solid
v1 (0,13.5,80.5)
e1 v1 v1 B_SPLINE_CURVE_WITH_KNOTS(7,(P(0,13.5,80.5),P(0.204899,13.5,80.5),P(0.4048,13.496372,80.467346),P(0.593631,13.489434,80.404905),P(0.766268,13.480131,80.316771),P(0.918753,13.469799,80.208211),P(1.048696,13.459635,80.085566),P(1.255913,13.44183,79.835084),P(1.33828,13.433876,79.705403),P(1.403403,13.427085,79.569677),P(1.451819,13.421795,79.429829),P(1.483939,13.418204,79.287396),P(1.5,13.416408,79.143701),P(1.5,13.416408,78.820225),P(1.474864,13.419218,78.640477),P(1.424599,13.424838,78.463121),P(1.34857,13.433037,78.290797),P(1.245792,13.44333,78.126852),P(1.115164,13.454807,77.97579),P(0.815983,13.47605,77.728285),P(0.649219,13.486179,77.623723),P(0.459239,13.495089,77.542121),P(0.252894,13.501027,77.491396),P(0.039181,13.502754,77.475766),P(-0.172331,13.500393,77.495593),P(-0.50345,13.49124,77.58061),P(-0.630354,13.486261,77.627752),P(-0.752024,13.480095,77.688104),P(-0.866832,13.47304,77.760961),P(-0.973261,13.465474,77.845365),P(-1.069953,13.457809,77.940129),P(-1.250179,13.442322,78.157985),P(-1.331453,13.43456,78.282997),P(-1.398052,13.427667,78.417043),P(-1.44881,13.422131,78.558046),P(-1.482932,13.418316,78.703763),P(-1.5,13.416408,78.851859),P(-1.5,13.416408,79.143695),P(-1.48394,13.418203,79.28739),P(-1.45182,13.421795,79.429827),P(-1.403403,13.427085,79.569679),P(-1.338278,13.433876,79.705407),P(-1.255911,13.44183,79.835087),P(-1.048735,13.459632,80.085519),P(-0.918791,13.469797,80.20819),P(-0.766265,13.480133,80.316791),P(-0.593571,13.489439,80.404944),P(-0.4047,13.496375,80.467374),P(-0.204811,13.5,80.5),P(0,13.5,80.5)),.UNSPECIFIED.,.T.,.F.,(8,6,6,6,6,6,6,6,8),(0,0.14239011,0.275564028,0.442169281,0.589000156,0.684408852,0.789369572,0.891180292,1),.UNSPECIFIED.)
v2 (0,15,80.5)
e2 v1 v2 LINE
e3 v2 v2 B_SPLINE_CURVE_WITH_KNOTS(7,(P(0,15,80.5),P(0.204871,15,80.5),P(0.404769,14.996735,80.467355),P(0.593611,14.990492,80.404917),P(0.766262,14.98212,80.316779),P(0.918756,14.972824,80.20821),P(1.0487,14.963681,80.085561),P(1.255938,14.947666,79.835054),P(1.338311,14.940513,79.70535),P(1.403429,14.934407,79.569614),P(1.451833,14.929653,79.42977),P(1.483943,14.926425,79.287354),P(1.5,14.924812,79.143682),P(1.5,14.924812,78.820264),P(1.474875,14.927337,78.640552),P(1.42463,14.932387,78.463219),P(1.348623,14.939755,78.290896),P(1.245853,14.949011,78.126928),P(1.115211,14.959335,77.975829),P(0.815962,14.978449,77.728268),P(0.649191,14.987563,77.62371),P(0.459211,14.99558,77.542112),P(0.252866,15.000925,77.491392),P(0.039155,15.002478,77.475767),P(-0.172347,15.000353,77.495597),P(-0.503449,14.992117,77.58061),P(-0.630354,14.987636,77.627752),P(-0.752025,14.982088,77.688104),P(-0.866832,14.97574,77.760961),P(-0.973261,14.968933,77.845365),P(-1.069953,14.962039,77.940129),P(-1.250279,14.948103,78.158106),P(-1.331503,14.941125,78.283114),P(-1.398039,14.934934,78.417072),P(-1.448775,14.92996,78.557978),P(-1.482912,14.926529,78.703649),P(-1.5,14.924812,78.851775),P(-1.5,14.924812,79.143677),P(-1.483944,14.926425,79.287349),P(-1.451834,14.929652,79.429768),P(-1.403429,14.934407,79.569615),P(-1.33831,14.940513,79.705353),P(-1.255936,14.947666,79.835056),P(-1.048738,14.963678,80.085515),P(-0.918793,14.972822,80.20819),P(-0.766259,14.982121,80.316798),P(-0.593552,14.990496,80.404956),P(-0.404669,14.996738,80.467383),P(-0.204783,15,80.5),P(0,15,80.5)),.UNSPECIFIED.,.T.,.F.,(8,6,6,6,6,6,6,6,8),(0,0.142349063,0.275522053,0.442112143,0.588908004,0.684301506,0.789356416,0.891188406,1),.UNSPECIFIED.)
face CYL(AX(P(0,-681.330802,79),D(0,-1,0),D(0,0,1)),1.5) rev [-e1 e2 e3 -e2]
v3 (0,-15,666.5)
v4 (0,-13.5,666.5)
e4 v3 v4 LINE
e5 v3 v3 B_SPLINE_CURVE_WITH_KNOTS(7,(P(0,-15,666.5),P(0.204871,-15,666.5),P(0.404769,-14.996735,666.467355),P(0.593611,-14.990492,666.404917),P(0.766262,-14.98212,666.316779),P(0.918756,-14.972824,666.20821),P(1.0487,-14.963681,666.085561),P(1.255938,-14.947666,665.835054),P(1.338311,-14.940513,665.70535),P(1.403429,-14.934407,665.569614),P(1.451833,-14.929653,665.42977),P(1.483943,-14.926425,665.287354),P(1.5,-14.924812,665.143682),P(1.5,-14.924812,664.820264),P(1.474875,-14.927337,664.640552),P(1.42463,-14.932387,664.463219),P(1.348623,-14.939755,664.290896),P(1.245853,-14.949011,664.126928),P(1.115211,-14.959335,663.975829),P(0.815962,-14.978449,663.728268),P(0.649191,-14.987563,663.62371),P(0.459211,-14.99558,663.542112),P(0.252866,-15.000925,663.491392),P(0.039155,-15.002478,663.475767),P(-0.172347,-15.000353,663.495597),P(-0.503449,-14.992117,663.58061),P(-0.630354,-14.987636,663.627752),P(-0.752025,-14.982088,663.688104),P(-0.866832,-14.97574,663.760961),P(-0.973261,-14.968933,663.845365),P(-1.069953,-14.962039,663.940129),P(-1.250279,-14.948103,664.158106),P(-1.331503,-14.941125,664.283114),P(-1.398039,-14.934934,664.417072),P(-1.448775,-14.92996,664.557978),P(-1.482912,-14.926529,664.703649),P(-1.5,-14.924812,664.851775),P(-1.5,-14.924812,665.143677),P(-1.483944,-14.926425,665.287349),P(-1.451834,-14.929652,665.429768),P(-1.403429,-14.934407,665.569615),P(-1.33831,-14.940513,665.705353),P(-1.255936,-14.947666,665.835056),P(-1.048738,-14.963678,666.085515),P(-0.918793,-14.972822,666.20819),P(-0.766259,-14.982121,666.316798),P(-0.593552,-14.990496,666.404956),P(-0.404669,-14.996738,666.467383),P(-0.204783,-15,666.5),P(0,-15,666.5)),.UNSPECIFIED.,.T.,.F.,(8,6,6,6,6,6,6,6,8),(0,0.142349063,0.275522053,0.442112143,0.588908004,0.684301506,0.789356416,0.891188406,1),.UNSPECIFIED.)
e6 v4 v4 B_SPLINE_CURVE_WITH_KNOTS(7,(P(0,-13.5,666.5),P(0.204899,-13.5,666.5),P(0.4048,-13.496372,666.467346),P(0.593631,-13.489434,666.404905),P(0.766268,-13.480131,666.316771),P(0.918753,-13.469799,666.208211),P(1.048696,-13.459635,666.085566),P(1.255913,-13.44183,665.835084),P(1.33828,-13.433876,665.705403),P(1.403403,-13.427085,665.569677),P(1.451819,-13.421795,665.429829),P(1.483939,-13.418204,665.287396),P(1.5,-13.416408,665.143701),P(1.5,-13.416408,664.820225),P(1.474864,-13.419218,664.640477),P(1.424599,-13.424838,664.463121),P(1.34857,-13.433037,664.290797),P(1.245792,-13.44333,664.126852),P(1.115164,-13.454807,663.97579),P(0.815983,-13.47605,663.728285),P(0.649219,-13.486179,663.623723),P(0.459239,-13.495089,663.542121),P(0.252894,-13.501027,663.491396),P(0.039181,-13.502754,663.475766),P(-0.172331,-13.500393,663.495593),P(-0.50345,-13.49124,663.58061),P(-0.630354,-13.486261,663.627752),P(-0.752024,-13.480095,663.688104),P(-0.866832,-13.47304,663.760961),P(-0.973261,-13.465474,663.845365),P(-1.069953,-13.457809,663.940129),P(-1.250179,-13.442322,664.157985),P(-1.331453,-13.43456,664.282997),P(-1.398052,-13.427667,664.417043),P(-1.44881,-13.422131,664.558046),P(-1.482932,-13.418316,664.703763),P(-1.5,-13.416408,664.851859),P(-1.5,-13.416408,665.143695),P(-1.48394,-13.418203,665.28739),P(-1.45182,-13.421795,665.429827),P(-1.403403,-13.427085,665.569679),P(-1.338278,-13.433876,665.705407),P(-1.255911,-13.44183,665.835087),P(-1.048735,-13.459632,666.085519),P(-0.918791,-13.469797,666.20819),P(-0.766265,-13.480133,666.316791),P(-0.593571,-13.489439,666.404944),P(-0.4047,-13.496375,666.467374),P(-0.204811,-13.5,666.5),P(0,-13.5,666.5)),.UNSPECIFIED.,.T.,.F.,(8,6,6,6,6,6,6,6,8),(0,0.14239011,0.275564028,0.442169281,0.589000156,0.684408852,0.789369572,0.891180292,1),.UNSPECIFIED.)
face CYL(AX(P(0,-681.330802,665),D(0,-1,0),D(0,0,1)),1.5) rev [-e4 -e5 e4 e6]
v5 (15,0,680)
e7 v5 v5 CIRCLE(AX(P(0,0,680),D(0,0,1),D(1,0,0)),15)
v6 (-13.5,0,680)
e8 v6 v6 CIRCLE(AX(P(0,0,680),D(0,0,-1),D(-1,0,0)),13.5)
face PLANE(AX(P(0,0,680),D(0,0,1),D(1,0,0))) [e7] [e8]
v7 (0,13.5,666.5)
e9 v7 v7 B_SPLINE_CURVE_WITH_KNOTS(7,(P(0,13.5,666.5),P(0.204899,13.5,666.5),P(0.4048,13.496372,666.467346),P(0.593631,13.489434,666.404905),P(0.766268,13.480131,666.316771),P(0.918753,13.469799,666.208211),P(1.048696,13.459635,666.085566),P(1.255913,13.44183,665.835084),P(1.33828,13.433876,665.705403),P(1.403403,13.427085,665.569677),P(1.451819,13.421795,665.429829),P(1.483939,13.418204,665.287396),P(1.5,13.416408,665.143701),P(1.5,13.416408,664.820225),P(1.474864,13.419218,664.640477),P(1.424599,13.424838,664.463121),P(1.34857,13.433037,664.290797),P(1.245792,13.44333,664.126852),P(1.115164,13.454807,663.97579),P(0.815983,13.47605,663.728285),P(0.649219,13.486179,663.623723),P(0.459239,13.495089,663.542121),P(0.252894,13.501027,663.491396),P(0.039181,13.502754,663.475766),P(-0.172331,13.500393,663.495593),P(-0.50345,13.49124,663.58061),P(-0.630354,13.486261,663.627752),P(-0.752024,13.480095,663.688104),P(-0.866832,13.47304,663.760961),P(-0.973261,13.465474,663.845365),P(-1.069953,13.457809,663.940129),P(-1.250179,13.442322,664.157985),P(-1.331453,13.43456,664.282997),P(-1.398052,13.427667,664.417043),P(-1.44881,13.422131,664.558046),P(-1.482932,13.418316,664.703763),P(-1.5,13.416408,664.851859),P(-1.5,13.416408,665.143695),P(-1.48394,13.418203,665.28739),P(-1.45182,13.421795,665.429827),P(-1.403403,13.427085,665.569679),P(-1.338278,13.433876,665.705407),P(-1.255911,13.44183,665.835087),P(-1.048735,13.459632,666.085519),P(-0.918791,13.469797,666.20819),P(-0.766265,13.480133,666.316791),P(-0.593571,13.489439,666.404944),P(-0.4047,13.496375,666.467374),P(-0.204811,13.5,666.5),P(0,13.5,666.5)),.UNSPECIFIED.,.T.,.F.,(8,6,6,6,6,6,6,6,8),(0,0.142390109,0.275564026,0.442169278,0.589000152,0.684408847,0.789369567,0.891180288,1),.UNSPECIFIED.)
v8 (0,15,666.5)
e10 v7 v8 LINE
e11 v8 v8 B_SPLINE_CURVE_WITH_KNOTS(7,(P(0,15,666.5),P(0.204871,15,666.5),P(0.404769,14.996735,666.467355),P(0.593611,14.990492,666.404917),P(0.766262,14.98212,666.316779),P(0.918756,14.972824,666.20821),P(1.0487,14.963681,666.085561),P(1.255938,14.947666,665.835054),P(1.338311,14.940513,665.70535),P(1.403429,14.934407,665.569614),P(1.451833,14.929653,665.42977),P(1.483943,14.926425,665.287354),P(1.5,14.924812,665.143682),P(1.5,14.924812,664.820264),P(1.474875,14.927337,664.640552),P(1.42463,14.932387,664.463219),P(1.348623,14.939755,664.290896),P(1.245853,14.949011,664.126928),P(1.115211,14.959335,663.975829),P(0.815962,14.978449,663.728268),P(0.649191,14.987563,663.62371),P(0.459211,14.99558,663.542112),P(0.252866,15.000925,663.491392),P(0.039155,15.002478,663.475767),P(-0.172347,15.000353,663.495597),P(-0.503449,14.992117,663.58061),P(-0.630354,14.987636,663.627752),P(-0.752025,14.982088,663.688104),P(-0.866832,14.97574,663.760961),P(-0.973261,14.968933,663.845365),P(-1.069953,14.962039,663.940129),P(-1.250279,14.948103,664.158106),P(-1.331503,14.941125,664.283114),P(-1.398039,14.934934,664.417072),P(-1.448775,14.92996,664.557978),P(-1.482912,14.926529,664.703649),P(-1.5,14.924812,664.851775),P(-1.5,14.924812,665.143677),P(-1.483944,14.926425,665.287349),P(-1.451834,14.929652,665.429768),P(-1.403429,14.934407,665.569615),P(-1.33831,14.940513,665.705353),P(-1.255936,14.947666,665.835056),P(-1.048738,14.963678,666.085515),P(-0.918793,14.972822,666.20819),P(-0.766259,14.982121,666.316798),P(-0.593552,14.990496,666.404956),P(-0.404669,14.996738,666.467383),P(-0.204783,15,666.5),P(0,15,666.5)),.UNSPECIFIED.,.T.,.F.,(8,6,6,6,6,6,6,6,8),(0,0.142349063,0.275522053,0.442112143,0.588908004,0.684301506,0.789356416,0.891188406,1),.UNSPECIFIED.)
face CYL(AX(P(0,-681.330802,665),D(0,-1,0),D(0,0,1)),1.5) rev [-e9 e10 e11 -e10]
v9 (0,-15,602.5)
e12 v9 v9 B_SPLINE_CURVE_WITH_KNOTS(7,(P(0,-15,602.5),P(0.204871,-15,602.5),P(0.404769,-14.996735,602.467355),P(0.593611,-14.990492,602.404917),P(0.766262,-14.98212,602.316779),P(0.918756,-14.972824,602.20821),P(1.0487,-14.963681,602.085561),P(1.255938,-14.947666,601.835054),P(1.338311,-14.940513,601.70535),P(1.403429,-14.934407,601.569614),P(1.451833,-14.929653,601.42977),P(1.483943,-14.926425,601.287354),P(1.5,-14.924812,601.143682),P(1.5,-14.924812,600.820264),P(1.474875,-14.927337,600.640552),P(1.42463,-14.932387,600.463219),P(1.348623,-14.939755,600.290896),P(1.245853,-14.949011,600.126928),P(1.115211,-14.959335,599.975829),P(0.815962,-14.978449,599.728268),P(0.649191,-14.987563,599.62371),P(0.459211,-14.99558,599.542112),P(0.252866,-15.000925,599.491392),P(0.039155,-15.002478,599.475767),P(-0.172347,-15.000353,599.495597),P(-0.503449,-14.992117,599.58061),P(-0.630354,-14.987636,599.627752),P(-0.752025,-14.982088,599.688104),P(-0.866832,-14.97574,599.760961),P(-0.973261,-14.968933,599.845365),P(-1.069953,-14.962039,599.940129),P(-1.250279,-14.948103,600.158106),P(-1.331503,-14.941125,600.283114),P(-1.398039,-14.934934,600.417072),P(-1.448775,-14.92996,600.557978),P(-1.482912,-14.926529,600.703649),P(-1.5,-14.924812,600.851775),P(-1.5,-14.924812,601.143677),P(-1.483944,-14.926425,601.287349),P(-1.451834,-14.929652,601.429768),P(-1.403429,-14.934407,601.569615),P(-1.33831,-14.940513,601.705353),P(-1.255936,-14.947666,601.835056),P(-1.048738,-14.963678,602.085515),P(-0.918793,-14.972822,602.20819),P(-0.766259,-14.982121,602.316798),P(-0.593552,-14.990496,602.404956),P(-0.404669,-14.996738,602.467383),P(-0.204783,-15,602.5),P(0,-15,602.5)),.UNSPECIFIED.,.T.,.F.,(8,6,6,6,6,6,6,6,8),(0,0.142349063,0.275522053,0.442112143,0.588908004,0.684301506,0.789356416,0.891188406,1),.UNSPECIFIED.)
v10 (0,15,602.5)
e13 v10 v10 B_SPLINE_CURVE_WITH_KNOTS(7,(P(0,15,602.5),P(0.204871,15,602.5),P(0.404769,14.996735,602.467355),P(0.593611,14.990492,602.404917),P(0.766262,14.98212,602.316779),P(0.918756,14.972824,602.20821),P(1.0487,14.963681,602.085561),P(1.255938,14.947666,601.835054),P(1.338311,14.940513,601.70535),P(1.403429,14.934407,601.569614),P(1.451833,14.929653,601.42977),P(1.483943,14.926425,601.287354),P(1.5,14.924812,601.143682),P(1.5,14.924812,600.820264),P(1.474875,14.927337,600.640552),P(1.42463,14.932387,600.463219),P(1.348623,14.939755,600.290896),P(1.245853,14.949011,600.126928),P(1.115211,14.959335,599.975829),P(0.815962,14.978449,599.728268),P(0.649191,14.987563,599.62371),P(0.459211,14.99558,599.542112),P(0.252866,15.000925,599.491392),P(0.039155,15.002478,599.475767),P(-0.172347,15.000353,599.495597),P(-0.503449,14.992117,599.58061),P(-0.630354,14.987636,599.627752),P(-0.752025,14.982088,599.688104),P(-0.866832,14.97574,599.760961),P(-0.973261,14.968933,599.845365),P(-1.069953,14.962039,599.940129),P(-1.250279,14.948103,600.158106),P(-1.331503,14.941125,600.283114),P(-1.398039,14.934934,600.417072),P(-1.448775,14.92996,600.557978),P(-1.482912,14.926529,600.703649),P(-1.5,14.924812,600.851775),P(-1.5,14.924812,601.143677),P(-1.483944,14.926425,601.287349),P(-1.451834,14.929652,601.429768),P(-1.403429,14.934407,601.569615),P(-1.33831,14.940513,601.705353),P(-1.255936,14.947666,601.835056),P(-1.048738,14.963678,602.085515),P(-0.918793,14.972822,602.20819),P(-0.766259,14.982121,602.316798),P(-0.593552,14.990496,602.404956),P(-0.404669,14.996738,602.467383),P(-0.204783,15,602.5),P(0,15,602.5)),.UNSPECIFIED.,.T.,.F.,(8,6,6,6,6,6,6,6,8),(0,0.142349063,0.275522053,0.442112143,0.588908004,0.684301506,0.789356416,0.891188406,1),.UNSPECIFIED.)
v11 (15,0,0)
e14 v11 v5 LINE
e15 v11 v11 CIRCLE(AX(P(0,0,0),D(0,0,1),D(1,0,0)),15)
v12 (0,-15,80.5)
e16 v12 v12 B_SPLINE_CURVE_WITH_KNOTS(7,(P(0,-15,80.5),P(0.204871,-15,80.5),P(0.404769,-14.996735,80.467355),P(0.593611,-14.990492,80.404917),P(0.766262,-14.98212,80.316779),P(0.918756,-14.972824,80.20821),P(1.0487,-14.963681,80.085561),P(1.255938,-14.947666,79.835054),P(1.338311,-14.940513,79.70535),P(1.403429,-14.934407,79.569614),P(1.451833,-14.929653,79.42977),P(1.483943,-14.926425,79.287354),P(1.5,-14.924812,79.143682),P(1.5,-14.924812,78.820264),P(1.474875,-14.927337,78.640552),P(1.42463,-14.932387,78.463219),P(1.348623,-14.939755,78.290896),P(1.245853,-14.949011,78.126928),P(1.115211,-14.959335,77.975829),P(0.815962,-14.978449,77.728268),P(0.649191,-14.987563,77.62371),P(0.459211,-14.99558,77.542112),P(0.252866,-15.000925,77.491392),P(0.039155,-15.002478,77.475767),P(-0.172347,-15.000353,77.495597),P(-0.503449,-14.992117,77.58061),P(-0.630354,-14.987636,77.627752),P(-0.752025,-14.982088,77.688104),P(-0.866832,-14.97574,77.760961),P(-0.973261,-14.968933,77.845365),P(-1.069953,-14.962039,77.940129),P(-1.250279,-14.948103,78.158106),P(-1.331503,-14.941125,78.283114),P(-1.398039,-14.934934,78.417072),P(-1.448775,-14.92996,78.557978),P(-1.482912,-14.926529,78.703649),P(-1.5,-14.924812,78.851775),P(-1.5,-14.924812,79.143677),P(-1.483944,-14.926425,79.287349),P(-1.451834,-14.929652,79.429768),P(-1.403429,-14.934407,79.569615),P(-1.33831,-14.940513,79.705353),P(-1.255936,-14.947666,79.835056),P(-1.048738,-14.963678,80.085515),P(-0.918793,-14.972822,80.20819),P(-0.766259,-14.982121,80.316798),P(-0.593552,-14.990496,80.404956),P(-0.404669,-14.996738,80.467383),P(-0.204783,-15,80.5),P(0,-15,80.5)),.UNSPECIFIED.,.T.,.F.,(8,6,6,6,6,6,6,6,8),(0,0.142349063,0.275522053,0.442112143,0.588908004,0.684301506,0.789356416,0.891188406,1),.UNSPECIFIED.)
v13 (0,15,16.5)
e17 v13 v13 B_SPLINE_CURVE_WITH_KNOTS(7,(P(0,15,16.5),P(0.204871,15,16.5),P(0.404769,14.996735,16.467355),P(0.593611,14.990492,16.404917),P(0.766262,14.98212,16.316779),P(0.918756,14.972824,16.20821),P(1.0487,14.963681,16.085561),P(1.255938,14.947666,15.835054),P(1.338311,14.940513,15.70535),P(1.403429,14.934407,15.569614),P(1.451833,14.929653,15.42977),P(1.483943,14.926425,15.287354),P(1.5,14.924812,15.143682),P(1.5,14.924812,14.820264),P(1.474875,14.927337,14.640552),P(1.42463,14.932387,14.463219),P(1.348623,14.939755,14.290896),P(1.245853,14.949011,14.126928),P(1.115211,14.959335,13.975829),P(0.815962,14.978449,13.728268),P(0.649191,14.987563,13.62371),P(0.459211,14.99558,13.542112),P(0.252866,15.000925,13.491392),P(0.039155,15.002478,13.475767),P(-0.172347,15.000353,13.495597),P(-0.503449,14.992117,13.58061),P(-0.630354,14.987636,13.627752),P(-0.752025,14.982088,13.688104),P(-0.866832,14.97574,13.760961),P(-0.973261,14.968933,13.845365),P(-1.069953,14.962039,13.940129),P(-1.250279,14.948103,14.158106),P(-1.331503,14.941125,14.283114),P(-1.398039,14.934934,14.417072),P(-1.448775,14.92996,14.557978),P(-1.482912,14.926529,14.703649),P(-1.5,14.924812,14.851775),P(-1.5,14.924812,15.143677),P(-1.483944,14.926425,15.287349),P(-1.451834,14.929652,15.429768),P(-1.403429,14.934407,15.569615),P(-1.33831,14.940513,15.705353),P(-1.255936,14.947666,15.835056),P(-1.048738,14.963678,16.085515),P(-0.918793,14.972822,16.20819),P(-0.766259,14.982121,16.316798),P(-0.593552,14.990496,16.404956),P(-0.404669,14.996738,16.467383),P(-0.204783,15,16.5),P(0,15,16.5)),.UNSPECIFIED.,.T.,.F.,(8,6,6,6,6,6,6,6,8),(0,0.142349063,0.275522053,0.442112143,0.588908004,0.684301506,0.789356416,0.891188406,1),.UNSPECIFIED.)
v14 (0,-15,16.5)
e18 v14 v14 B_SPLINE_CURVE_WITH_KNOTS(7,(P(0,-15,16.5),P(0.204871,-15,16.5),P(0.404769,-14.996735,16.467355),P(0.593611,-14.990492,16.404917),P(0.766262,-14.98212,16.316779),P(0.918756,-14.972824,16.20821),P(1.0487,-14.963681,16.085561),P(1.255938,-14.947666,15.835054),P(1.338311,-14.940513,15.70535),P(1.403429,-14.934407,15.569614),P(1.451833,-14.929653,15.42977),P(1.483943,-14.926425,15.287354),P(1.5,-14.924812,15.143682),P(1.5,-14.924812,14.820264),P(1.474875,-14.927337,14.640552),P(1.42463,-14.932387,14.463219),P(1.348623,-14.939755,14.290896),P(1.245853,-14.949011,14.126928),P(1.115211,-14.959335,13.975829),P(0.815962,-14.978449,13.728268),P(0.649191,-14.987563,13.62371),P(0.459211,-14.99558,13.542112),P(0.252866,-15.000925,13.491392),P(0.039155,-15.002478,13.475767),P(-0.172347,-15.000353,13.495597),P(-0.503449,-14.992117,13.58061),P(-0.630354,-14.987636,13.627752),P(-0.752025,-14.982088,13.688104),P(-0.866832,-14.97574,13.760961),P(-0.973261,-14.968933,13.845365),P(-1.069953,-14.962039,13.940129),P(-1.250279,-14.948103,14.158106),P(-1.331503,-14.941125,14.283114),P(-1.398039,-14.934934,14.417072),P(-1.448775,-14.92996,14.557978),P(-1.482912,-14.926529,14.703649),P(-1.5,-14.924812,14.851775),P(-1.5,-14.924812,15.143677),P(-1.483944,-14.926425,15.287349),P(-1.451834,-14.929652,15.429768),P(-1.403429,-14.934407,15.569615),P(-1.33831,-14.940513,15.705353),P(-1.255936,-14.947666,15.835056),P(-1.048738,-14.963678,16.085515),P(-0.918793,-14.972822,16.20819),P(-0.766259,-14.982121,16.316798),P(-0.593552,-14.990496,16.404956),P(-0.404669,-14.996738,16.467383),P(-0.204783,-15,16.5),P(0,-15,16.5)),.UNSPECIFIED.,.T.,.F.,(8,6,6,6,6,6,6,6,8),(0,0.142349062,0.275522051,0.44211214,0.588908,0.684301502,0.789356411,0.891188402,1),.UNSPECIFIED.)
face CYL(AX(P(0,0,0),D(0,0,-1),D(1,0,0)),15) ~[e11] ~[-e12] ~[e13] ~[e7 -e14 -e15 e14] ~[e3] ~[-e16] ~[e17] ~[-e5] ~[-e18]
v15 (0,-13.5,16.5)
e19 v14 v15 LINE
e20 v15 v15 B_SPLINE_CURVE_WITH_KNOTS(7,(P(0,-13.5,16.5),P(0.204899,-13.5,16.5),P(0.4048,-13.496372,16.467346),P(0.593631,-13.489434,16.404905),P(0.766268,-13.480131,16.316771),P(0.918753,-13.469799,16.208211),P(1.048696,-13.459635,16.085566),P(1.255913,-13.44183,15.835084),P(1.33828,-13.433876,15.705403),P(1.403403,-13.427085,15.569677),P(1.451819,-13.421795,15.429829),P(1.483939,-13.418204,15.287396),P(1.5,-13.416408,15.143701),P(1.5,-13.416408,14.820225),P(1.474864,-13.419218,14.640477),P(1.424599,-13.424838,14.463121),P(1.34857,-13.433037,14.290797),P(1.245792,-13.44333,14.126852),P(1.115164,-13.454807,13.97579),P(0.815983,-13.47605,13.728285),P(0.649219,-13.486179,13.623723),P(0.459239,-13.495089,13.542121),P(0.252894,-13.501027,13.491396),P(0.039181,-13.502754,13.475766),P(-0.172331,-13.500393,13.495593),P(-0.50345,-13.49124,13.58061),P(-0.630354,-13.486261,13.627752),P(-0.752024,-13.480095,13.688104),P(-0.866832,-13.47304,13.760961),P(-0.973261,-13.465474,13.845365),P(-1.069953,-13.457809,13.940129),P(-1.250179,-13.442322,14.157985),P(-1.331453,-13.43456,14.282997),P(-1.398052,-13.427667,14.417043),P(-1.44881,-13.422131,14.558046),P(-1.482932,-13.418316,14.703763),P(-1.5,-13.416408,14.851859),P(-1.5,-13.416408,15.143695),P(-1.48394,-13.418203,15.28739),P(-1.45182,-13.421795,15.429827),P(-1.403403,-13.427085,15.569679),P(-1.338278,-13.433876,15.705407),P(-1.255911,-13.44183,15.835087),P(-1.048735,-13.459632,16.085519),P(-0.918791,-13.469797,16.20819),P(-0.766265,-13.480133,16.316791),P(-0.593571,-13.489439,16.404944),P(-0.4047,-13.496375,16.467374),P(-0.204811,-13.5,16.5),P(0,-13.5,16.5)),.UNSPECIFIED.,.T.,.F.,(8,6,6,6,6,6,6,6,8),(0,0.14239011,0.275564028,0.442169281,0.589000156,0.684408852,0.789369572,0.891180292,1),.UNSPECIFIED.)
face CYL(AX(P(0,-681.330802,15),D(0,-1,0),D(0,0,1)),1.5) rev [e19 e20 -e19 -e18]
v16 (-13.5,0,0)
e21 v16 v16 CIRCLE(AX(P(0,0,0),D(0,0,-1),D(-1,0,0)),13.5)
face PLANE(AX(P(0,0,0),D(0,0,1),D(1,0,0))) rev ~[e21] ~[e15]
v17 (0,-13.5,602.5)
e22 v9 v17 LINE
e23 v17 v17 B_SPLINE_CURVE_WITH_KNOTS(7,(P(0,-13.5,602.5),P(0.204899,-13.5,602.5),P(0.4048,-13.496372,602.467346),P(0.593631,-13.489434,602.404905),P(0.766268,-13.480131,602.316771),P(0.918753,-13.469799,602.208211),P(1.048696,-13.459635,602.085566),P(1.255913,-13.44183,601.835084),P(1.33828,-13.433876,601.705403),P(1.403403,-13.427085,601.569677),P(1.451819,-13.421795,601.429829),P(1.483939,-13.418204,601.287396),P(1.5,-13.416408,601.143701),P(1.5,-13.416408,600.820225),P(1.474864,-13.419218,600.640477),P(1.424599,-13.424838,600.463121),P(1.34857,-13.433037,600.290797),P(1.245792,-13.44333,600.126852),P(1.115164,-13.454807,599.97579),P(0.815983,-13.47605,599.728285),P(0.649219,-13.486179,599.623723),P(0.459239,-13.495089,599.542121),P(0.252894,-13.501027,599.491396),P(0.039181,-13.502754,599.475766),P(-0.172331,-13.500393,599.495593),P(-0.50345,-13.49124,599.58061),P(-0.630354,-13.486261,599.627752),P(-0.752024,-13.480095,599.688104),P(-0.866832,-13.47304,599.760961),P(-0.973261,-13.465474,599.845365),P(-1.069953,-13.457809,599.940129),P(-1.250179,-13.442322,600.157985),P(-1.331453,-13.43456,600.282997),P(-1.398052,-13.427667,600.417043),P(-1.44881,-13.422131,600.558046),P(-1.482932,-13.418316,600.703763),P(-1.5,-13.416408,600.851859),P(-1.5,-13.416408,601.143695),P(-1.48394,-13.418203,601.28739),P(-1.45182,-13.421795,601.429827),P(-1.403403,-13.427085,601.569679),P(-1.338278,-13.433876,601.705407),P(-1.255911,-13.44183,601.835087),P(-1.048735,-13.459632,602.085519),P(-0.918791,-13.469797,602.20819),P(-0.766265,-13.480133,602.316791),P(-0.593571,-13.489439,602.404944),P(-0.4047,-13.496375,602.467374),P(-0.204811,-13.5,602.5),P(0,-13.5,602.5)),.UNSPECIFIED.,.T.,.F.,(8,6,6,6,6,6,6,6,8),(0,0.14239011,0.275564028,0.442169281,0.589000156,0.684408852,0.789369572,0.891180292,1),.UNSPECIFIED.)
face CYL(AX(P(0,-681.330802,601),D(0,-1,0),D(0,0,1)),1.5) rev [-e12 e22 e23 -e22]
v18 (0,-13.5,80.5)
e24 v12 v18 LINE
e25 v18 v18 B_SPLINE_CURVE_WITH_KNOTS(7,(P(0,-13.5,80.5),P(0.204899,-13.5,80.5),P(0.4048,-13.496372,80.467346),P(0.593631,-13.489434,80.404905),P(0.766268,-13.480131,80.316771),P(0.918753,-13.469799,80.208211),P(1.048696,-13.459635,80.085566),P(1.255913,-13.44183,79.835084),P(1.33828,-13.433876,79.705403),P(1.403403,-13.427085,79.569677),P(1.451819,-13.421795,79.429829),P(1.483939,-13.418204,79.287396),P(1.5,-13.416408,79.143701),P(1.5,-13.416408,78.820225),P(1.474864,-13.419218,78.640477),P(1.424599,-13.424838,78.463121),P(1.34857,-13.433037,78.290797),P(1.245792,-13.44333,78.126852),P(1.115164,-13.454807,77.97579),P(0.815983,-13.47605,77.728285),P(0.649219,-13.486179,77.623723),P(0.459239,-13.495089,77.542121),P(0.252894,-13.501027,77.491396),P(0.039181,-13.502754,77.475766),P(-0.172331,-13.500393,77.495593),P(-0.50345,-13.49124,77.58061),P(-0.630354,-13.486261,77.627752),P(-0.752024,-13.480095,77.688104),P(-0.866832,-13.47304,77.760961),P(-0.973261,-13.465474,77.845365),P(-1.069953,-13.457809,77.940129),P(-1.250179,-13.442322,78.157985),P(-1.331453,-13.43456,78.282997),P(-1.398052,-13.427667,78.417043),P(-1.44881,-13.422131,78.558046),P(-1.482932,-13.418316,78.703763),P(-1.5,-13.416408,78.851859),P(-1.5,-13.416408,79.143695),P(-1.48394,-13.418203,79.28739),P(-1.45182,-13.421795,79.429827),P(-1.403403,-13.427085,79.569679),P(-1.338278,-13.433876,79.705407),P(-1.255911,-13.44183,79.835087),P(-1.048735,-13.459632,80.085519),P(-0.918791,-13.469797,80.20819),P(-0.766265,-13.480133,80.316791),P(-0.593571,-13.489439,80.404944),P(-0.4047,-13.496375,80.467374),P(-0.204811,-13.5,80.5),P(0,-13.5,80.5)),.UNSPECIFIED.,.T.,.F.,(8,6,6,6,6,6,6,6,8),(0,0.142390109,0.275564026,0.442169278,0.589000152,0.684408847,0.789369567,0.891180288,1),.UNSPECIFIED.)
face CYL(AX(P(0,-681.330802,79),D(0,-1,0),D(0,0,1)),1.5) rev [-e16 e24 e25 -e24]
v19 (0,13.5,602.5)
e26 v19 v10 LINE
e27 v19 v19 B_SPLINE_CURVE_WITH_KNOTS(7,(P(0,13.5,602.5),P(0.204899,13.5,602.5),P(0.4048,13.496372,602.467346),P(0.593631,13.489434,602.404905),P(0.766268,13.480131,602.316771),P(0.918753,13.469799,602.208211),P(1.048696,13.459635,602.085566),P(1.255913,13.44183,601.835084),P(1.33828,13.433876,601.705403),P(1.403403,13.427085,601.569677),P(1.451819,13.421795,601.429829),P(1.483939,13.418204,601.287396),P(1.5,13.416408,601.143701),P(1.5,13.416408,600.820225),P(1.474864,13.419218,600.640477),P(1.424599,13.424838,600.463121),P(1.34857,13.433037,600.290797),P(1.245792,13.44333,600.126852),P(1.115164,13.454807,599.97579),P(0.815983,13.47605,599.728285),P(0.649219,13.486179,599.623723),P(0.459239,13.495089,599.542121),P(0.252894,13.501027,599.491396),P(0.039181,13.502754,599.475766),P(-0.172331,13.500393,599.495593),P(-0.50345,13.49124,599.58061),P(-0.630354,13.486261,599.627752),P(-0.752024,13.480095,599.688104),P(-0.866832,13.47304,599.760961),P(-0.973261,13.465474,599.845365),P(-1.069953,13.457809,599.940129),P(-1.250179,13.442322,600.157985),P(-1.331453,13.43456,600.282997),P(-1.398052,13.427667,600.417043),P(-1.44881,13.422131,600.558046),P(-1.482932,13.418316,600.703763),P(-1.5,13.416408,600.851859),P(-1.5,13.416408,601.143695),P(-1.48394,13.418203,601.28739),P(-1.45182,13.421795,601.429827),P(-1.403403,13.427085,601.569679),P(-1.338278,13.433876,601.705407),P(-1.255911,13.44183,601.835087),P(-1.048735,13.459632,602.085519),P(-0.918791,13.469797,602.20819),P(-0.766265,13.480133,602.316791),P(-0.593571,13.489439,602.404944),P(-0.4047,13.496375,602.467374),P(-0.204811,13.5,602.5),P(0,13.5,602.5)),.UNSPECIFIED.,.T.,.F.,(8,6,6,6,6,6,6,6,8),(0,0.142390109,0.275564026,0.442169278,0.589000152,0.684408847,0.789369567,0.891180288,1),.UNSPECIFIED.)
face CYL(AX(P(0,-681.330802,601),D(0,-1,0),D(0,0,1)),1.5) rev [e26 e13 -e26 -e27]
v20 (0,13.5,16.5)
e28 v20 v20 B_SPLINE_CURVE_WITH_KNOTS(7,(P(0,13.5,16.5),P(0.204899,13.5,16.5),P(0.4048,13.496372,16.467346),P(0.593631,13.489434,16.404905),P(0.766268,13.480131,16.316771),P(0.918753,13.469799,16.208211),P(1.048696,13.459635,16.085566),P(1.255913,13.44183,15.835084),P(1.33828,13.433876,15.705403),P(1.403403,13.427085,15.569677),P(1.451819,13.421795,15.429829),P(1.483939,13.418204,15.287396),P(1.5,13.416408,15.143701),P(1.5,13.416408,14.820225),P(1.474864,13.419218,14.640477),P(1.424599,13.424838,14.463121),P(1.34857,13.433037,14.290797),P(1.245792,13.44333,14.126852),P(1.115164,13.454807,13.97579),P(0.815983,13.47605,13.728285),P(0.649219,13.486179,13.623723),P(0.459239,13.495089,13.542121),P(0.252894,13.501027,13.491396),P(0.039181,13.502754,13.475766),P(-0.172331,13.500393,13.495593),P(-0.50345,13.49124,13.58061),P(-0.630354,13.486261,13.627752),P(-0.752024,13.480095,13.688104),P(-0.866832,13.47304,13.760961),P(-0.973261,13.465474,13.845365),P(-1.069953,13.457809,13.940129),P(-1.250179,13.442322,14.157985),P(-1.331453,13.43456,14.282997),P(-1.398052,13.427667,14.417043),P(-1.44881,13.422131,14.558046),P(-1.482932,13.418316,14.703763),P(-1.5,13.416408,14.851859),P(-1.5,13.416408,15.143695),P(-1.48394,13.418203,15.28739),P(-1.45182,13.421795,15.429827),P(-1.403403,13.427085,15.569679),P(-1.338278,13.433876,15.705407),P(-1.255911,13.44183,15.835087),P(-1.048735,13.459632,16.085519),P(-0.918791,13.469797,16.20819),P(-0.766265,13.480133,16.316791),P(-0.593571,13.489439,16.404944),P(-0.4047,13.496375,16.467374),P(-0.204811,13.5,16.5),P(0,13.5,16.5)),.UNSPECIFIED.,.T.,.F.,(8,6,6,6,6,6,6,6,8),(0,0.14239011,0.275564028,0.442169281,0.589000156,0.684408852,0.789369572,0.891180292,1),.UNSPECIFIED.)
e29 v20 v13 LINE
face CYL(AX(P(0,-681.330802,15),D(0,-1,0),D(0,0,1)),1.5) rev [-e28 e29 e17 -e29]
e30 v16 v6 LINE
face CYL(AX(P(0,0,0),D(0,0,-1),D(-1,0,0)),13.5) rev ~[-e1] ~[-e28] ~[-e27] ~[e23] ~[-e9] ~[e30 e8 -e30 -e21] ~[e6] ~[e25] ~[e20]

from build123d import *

# Parameters (mm, degrees)
SKETCH1_R               = 15
BOSS_EXTRUDE1_DEPTH     = 680
SKETCH2_R               = 13.5
CUT_EXTRUDE1_DEPTH      = 681.33080189
CUT_EXTRUDE2_DEPTH      = 681.33080189
CUT_EXTRUDE2_DEPTH_BACK = 681.33080189
SKETCH3_R               = 1.5


with BuildPart() as part:
    # Sketch1 → Boss-Extrude1 (new body)
    with BuildSketch(Plane.XY):
        Circle(SKETCH1_R)
    extrude(amount=BOSS_EXTRUDE1_DEPTH)

    # Sketch2 → Cut-Extrude1 (cut, through all)
    with BuildSketch(Plane(origin=(0, 0, 0), x_dir=(-1, 0, 0), z_dir=(0, 0, -1))):
        Circle(SKETCH2_R)
    extrude(amount=-CUT_EXTRUDE1_DEPTH, mode=Mode.SUBTRACT)

    # Sketch3 → Cut-Extrude2 (cut, two sides: drawn at the far end of the back side and taken through both)
    with BuildSketch(Plane(origin=(0, 0, 0), x_dir=(1, 0, 0), z_dir=(0, 1, 0)).offset(-CUT_EXTRUDE2_DEPTH_BACK)):
        with Locations(Location((0, -15, 0), (0, 0, 270))):
            Circle(SKETCH3_R)
        with Locations(Location((0, -665, 0), (0, 0, 270))):
            Circle(SKETCH3_R)
        with Locations(Location((0, -79, 0), (0, 0, 270))):
            Circle(SKETCH3_R)
        with Locations(Location((0, -601, 0), (0, 0, 270))):
            Circle(SKETCH3_R)
    extrude(amount=CUT_EXTRUDE2_DEPTH + CUT_EXTRUDE2_DEPTH_BACK, mode=Mode.SUBTRACT)


solid = part.part
